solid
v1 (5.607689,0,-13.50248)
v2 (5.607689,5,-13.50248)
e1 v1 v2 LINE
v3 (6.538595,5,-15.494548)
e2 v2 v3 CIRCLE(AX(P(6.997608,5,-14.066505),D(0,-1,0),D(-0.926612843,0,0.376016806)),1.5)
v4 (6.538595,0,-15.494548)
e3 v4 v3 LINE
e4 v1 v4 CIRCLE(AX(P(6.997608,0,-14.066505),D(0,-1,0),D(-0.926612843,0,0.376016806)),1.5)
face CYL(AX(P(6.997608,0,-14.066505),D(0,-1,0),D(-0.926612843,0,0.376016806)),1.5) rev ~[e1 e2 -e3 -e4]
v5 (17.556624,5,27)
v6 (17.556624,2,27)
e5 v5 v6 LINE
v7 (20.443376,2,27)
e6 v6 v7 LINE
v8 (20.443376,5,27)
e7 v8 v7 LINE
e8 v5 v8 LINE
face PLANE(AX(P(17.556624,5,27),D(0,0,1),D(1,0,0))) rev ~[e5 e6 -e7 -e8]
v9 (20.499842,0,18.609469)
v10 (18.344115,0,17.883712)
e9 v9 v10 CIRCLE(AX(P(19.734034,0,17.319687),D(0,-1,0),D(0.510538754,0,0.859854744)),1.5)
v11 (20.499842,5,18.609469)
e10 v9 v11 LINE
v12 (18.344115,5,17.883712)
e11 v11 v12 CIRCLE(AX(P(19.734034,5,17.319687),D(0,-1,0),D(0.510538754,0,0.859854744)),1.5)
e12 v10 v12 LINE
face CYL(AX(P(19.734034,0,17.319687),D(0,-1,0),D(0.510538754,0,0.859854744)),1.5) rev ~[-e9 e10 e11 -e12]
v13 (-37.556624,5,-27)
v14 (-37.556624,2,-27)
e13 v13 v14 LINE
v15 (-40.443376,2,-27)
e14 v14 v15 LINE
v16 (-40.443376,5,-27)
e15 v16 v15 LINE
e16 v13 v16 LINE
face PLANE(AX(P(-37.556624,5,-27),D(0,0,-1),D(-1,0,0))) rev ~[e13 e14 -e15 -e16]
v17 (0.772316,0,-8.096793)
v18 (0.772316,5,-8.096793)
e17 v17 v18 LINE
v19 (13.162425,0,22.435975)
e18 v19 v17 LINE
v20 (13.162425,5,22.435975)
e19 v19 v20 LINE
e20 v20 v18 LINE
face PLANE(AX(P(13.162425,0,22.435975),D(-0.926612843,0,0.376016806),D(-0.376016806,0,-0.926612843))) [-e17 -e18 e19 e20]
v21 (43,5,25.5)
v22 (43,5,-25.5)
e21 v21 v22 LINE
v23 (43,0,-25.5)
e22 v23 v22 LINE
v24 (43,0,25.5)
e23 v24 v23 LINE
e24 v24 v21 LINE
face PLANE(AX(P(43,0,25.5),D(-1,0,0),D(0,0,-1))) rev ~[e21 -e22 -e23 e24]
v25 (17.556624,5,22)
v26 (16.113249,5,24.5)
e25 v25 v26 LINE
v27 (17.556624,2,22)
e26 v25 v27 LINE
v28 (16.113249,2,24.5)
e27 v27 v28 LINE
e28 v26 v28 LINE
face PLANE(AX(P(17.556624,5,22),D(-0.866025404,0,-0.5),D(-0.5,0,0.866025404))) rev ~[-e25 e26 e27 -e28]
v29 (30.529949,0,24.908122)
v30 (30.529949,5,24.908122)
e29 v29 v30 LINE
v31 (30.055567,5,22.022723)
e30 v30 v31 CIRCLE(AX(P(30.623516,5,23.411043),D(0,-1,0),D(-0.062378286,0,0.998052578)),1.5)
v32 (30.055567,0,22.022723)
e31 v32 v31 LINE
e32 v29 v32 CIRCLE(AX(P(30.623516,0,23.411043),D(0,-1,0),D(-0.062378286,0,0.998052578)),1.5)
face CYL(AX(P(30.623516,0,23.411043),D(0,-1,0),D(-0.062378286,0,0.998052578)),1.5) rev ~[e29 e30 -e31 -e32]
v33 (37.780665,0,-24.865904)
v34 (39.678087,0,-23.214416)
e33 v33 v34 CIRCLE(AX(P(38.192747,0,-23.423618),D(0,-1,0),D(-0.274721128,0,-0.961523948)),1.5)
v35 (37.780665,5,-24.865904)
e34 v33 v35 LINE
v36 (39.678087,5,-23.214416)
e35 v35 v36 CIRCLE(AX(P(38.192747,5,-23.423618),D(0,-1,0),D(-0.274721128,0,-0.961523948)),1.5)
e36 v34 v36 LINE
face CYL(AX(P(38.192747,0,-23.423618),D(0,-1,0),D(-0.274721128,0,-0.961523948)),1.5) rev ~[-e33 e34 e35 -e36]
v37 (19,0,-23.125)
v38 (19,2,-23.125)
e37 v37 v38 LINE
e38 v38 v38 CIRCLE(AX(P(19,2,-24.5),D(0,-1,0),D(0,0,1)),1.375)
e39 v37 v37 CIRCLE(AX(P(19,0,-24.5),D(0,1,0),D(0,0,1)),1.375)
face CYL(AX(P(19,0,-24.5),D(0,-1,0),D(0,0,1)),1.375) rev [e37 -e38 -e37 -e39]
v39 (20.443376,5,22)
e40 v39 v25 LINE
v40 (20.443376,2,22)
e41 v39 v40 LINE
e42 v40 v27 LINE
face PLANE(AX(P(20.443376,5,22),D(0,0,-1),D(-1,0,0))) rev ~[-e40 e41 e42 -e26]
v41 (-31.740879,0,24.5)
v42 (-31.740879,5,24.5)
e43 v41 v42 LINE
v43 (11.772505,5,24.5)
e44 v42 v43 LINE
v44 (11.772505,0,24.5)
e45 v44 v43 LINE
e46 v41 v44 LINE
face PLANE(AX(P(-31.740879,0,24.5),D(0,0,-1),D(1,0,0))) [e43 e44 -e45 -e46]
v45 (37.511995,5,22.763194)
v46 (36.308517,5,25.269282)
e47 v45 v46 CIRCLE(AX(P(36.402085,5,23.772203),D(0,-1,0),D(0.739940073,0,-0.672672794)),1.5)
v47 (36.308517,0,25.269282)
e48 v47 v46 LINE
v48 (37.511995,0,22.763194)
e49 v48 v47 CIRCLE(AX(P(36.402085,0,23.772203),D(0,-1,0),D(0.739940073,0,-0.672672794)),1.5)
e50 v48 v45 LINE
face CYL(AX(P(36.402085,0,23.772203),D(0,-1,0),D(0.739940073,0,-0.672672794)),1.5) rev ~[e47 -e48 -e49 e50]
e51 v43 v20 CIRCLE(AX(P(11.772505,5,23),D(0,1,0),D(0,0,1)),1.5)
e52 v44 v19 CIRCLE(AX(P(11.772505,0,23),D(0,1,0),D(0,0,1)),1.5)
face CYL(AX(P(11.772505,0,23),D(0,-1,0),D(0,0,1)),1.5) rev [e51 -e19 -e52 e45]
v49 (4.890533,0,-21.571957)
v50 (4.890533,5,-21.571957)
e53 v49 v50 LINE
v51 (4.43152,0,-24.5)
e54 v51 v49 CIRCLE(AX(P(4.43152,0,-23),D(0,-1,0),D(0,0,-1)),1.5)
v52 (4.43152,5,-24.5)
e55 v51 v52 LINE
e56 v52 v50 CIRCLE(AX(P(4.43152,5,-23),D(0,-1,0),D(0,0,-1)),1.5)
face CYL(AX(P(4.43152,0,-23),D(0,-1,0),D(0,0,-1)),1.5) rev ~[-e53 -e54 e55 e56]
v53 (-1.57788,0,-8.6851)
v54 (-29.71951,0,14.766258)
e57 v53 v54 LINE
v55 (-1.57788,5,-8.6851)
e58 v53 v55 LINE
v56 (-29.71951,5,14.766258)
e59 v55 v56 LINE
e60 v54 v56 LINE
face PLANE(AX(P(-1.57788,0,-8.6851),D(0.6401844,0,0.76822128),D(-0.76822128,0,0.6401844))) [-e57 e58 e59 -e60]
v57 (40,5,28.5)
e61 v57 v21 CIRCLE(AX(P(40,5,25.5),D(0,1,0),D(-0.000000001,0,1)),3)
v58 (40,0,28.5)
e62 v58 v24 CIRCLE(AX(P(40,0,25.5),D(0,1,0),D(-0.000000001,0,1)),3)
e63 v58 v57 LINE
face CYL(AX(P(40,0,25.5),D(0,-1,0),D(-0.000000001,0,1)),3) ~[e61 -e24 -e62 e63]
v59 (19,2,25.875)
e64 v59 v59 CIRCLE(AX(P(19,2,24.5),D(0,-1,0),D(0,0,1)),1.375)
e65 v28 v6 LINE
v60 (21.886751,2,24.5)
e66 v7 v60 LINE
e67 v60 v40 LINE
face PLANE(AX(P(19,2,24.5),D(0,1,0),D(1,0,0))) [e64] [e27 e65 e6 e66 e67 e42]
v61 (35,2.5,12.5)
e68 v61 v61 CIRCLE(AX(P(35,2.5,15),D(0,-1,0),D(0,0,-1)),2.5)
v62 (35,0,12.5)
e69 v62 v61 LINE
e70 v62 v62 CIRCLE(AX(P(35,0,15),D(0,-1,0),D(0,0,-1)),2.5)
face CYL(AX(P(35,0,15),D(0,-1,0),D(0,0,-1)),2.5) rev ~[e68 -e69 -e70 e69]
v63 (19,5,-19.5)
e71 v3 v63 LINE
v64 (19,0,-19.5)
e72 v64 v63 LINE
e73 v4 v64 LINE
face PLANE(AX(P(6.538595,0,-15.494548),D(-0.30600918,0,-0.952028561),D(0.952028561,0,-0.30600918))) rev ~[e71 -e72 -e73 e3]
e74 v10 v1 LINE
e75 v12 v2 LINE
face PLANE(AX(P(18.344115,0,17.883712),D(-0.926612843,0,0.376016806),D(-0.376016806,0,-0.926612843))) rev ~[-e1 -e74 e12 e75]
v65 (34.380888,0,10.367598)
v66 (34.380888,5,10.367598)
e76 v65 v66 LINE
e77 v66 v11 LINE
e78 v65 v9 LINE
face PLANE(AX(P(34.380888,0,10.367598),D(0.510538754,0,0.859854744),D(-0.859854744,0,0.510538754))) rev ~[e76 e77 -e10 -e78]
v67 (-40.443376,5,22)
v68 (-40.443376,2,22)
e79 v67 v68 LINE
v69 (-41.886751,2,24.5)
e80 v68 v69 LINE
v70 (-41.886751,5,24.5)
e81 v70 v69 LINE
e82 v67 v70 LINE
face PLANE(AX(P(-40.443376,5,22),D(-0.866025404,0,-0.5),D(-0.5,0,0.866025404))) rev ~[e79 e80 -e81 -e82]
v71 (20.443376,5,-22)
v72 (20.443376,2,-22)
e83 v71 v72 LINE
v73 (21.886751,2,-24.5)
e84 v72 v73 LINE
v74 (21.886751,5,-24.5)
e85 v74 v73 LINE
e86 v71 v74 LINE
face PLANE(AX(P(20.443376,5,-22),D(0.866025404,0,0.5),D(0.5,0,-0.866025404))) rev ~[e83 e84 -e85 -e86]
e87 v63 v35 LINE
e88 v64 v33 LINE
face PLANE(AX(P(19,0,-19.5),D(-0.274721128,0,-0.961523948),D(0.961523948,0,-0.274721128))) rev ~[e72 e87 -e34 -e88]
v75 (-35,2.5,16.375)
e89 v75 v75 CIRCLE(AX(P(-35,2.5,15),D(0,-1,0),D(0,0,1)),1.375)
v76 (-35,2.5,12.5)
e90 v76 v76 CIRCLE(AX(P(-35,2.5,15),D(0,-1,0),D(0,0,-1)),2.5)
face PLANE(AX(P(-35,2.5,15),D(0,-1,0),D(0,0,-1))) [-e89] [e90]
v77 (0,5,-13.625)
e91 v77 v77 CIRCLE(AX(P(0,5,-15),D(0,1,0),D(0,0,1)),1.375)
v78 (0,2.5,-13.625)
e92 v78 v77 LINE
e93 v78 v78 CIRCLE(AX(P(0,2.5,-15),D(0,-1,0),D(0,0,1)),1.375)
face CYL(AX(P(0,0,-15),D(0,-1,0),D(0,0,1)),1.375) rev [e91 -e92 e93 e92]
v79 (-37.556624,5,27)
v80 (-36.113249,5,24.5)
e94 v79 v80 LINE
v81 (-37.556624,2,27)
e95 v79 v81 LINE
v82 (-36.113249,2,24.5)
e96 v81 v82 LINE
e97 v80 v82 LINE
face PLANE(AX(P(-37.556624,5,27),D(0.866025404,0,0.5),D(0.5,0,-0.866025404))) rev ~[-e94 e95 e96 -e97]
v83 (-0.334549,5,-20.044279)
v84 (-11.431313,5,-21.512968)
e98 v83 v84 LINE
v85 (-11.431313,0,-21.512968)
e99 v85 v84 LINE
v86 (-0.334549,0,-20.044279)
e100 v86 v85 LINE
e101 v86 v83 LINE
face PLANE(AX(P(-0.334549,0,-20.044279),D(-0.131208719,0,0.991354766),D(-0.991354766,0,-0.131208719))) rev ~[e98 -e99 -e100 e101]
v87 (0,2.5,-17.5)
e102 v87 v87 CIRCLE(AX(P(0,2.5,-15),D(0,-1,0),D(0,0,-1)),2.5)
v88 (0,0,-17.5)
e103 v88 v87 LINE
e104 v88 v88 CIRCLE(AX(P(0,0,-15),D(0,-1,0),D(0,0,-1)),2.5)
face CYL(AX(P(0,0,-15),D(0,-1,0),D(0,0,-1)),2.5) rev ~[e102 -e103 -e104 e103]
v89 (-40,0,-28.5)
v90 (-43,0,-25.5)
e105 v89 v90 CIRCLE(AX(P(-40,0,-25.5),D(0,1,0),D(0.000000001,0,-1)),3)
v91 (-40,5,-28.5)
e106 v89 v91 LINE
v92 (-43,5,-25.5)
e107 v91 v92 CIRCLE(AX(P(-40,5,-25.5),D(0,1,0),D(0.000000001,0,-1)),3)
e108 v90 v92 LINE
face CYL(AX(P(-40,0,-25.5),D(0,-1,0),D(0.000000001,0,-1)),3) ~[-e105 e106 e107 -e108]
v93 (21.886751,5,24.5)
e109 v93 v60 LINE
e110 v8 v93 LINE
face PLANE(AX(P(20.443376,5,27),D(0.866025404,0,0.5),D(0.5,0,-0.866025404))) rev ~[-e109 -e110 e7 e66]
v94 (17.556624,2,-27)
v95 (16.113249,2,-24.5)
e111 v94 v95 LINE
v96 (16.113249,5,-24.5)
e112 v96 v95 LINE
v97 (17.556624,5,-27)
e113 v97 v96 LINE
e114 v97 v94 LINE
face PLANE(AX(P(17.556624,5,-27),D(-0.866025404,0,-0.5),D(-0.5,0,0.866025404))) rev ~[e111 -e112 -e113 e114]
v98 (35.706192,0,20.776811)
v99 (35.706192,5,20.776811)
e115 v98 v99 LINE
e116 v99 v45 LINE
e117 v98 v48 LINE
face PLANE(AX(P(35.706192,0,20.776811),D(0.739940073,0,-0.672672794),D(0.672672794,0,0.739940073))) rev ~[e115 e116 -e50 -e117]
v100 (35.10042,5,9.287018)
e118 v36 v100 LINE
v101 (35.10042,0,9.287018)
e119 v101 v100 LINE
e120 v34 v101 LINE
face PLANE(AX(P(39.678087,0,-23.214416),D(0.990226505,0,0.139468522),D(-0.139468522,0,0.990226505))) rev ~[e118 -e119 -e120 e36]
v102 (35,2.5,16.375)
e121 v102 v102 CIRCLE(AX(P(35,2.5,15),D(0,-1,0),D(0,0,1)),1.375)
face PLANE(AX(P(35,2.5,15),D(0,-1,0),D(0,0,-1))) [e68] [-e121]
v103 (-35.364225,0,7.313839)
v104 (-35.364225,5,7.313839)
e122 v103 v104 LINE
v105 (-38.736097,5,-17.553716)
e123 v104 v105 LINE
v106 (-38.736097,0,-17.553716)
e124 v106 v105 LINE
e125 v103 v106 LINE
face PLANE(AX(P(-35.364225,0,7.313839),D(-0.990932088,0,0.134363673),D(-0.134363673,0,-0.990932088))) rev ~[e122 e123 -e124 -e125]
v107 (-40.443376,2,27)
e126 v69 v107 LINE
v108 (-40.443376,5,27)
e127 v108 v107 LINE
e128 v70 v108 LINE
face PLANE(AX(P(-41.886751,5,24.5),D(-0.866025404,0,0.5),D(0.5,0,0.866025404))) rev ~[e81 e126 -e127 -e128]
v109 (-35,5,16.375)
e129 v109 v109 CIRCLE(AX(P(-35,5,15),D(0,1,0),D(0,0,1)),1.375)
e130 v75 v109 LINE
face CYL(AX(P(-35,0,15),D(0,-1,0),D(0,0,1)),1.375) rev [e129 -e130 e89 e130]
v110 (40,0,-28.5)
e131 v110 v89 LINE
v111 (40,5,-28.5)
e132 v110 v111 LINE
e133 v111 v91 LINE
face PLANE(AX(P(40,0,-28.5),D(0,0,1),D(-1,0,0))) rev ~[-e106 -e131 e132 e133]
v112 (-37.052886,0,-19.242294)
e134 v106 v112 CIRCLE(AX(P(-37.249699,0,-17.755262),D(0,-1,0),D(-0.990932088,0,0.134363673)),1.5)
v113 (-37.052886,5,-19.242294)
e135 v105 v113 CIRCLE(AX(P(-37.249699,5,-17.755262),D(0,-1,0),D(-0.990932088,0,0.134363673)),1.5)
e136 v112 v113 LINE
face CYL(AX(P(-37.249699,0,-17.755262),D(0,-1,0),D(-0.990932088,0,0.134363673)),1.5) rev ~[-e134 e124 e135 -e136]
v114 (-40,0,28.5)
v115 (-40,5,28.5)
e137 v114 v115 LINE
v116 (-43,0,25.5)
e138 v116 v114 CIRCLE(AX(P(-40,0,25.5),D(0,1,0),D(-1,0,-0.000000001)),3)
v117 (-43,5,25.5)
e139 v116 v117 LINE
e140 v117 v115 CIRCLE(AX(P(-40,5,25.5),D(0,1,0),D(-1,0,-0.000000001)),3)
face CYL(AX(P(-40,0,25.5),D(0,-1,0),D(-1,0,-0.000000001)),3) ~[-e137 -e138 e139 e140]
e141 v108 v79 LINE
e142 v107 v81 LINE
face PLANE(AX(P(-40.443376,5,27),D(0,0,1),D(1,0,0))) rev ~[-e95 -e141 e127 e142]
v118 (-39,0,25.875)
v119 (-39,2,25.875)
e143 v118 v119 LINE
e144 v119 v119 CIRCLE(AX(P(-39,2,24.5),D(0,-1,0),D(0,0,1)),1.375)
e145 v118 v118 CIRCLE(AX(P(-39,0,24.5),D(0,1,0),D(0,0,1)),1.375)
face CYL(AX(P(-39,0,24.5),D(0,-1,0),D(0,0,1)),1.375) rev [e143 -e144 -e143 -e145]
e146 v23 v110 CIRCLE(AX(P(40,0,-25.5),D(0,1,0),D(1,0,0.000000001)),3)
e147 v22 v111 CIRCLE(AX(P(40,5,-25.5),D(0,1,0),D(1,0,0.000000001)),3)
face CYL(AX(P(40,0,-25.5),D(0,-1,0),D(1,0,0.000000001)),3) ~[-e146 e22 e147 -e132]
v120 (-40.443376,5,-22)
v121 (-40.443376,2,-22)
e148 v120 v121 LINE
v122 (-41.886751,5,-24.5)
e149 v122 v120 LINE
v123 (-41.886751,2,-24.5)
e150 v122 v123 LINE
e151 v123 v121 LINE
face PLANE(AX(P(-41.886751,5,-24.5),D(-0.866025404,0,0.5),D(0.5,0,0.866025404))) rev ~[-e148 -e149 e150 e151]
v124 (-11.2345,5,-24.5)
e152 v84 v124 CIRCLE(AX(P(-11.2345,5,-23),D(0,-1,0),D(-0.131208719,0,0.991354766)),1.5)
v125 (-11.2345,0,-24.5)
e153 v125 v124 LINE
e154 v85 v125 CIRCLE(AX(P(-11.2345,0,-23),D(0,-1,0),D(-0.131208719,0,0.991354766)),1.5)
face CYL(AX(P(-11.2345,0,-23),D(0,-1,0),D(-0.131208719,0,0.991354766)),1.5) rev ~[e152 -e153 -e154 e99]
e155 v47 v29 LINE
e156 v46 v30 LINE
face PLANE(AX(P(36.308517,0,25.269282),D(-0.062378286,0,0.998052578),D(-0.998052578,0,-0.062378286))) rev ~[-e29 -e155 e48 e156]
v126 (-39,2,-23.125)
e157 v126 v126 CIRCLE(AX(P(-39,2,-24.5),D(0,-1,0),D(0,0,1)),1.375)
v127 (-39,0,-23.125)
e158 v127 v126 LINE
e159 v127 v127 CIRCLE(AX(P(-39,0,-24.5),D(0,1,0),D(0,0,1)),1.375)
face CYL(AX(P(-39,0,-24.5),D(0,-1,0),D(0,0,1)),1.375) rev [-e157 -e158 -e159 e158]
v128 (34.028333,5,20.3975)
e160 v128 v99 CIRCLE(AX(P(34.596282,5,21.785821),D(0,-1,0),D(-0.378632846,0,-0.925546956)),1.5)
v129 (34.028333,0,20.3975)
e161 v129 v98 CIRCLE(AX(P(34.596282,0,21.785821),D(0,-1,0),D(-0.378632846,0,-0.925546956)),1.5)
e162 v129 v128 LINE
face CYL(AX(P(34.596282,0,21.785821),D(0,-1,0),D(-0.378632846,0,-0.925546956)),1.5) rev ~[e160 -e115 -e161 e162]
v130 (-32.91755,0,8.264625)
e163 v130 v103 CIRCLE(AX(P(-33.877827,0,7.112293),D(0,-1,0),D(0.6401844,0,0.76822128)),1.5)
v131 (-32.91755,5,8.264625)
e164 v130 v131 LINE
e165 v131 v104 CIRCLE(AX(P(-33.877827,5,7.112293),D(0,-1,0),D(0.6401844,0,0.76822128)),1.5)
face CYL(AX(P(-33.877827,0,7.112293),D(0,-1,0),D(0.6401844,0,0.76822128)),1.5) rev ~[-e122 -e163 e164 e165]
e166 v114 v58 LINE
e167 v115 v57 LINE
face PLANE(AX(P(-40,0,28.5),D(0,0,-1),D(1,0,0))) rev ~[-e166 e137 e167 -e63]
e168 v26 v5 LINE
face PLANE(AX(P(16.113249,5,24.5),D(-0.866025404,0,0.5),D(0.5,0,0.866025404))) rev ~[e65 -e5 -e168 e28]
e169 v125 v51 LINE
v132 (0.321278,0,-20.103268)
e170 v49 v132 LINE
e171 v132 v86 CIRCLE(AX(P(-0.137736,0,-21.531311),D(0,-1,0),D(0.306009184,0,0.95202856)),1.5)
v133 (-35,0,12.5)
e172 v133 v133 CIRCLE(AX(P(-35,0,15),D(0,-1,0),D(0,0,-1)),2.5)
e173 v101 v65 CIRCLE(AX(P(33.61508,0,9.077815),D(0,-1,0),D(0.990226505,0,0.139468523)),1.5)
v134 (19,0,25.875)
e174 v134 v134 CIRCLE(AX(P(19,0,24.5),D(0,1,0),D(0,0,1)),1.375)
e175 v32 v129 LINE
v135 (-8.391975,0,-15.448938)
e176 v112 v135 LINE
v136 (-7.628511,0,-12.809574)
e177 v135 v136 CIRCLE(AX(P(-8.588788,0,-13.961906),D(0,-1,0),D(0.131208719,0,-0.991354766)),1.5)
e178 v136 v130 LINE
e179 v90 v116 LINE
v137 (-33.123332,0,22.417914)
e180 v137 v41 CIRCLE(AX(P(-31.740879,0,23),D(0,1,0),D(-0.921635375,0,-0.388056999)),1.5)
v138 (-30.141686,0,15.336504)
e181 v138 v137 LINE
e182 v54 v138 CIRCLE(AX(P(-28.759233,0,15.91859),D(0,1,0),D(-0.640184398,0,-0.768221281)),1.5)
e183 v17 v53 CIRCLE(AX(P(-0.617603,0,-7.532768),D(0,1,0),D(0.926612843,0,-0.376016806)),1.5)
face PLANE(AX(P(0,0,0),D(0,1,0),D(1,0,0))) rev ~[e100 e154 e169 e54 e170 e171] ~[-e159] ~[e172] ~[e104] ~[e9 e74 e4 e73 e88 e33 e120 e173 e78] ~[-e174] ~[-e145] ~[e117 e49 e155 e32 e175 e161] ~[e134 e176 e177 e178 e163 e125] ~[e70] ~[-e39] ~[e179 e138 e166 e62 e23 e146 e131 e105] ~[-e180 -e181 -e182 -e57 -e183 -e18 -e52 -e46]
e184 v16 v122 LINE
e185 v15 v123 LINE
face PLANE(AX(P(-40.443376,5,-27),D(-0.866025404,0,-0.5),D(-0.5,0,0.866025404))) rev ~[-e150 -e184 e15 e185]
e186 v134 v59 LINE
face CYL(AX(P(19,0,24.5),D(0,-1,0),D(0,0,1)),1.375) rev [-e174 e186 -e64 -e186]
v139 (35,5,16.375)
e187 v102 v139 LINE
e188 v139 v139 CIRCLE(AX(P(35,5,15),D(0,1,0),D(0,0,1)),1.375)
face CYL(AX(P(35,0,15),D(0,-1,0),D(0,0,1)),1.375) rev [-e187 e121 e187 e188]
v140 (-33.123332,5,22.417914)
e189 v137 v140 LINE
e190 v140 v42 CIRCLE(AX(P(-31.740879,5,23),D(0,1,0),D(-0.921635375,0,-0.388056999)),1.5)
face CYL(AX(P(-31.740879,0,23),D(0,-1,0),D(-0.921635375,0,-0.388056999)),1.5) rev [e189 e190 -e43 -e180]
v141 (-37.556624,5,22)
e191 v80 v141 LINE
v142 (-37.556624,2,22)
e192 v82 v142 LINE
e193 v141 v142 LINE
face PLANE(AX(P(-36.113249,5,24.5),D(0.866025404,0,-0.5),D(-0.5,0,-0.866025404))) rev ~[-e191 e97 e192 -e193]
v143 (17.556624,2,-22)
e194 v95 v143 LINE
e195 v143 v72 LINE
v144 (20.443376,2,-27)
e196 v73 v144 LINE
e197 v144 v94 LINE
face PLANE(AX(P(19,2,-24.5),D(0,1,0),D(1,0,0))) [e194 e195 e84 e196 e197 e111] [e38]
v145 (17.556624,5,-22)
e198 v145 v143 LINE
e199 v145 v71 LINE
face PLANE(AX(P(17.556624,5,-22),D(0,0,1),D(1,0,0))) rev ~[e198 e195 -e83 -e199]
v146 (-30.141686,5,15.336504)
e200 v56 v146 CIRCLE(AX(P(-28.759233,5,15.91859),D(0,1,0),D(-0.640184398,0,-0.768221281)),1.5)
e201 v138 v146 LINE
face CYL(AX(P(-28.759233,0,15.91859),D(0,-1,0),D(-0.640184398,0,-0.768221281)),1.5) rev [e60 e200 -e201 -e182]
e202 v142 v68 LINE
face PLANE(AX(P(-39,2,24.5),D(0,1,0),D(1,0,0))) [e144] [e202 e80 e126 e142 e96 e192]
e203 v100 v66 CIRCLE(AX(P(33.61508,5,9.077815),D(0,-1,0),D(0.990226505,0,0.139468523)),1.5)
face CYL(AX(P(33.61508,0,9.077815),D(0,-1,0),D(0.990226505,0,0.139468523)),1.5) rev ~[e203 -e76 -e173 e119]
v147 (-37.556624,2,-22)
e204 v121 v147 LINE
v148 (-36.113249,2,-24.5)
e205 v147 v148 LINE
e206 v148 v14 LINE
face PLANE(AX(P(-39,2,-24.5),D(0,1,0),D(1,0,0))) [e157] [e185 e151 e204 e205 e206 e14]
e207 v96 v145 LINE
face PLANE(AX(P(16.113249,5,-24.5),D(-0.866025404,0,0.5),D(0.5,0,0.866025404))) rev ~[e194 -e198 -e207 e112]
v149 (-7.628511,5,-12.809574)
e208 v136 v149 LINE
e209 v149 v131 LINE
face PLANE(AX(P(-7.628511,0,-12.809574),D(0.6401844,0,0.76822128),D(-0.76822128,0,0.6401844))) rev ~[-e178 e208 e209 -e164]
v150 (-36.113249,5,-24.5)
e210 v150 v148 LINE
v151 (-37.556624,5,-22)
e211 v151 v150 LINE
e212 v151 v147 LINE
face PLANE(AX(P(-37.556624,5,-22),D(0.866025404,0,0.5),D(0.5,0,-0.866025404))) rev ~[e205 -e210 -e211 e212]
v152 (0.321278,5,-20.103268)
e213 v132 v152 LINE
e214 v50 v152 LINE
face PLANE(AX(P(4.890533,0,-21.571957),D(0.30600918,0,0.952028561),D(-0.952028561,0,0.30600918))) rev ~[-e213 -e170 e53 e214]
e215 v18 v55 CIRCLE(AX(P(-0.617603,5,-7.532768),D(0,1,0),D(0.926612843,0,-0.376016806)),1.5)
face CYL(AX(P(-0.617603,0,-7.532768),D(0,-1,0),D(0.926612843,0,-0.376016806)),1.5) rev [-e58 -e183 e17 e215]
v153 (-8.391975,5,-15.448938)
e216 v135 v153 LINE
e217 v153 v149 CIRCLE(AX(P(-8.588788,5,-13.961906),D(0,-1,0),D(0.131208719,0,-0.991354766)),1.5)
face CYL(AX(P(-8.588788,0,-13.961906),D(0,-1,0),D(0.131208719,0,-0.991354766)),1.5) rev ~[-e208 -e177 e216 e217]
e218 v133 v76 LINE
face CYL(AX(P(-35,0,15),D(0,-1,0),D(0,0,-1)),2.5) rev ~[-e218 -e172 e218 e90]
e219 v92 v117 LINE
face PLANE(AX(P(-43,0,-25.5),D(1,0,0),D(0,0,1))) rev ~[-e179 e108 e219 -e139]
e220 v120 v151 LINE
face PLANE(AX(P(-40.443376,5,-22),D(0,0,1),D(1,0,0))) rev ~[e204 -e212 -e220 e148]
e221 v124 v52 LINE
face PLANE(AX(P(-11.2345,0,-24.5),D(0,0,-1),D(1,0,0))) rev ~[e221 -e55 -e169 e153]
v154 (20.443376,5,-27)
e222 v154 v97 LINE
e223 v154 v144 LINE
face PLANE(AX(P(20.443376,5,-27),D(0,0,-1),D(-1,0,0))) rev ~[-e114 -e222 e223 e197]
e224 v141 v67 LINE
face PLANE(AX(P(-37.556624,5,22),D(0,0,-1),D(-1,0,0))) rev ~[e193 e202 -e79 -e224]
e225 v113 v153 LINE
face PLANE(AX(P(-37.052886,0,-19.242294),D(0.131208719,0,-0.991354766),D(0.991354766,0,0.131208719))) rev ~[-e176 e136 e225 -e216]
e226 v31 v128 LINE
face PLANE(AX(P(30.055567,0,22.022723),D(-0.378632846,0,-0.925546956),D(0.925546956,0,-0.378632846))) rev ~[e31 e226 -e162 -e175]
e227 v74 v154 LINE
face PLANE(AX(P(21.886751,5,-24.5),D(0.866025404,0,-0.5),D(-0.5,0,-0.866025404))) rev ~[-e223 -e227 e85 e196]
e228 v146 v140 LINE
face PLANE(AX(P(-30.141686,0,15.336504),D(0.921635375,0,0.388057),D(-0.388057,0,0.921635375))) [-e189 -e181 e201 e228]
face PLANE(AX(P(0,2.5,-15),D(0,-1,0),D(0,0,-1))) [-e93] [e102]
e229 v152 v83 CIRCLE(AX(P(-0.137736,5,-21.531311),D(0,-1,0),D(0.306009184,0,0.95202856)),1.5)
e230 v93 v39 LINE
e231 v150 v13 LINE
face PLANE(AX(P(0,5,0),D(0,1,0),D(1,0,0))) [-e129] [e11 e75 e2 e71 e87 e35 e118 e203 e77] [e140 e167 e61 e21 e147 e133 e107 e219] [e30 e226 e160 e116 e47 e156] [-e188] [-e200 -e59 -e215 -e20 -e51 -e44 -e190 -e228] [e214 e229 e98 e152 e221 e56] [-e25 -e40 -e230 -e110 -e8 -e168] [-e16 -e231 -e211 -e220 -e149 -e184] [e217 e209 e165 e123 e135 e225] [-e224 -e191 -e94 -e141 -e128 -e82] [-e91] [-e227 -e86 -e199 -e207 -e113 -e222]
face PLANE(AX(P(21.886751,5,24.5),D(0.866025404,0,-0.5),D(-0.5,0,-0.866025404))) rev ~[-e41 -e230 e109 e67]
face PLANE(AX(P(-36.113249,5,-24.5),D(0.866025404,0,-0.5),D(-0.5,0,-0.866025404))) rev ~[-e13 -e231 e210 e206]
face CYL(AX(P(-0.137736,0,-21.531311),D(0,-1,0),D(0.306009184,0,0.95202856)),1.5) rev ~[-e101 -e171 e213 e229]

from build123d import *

# Parameters (mm, degrees)
SKETCH1_R           = 1.375
BOSS_EXTRUDE1_DEPTH = 5
CUT_EXTRUDE1_DEPTH  = 3
SKETCH3_R           = 2.5
CUT_EXTRUDE2_DEPTH  = 2.5


with BuildPart() as part:
    # Sketch1 → Boss-Extrude1 (new body)
    with BuildSketch(Plane(origin=(0, 0, 0), x_dir=(1, 0, 0), z_dir=(0, 1, 0))):
        with BuildLine():
            Line((-40, -28.5), (40, -28.5))
            ThreePointArc((40, -28.5), (42.121320344, -27.621320344), (43, -25.5))
            Line((43, -25.5), (43, 25.5))
            ThreePointArc((43, 25.5), (42.121320344, 27.621320344), (40, 28.5))
            Line((40, 28.5), (-40, 28.5))
            ThreePointArc((-40, 28.5), (-42.121320344, 27.621320344), (-43, 25.5))
            Line((-43, 25.5), (-43, -25.5))
            ThreePointArc((-43, -25.5), (-42.121320344, -27.621320344), (-40, -28.5))
        make_face()
        with Locations(Location((0, 15, 0), (0, 0, 270))):
            Circle(SKETCH1_R, mode=Mode.SUBTRACT)
        with Locations(Location((-35, -15, 0), (0, 0, 270))):
            Circle(SKETCH1_R, mode=Mode.SUBTRACT)
        with Locations(Location((35, -15, 0), (0, 0, 270))):
            Circle(SKETCH1_R, mode=Mode.SUBTRACT)
        with Locations(Location((-39, 24.5, 0), (0, 0, 270))):
            Circle(SKETCH1_R, mode=Mode.SUBTRACT)
        with Locations(Location((19, 24.5, 0), (0, 0, 270))):
            Circle(SKETCH1_R, mode=Mode.SUBTRACT)
        with Locations(Location((19, -24.5, 0), (0, 0, 270))):
            Circle(SKETCH1_R, mode=Mode.SUBTRACT)
        with Locations(Location((-39, -24.5, 0), (0, 0, 270))):
            Circle(SKETCH1_R, mode=Mode.SUBTRACT)
        with BuildLine():
            Line((-37.052885882, 19.24229372), (-8.391974967, 15.448937863))
            ThreePointArc((-8.391974967, 15.448937863), (-7.147859594, 14.378709263), (-7.628511446, 12.809573795))
            Line((-7.628511446, 12.809573795), (-32.917550489, -8.264625407))
            ThreePointArc((-32.917550489, -8.264625407), (-34.421149889, -8.510435231), (-35.364225221, -7.313838997))
            Line((-35.364225221, -7.313838997), (-38.736097093, 17.553716061))
            ThreePointArc((-38.736097093, 17.553716061), (-38.312045905, 18.814232283), (-37.052885882, 19.24229372))
        make_face(mode=Mode.SUBTRACT)
        with BuildLine():
            Line((-1.577880073, 8.685099939), (-29.719509612, -14.76625801))
            ThreePointArc((-29.719509612, -14.76625801), (-29.964799607, -15.026060273), (-30.141686076, -15.33650443))
            Line((-30.141686076, -15.33650443), (-33.123332421, -22.4179145))
            ThreePointArc((-33.123332421, -22.4179145), (-32.990504952, -23.829720359), (-31.740879358, -24.5))
            Line((-31.740879358, -24.5), (11.772505288, -24.5))
            ThreePointArc((11.772505288, -24.5), (13.016699367, -23.83784312), (13.162424553, -22.435974791))
            Line((13.162424553, -22.435974791), (0.772315791, 8.096793229))
            ThreePointArc((0.772315791, 8.096793229), (-0.253358499, 8.987871314), (-1.577880073, 8.685099939))
        make_face(mode=Mode.SUBTRACT)
        with BuildLine():
            Line((-11.234499574, 24.5), (4.43151961, 24.5))
            ThreePointArc((4.43151961, 24.5), (5.913421136, 23.232309855), (4.890533381, 21.571957158))
            Line((4.890533381, 21.571957158), (0.321277785, 20.10326786))
            ThreePointArc((0.321277785, 20.10326786), (-0.003358772, 20.037341905), (-0.334549064, 20.044278553))
            Line((-0.334549064, 20.044278553), (-11.431312652, 21.512967851))
            ThreePointArc((-11.431312652, 21.512967851), (-12.7312541, 23.098619918), (-11.234499574, 24.5))
        make_face(mode=Mode.SUBTRACT)
        with BuildLine():
            Line((6.538594674, 15.494548288), (19, 19.5))
            Line((19, 19.5), (37.780665263, 24.865904361))
            ThreePointArc((37.780665263, 24.865904361), (39.177543611, 24.555066868), (39.678086712, 23.214415657))
            Line((39.678086712, 23.214415657), (35.10041997, -9.287018213))
            ThreePointArc((35.10041997, -9.287018213), (34.8636112, -9.909181999), (34.380888344, -10.367597546))
            Line((34.380888344, -10.367597546), (20.4998423, -18.609468634))
            ThreePointArc((20.4998423, -18.609468634), (19.255432614, -18.741284405), (18.344114904, -17.883711727))
            Line((18.344114904, -17.883711727), (5.607689179, 13.502480237))
            ThreePointArc((5.607689179, 13.502480237), (5.638666899, 14.70154708), (6.538594674, 15.494548288))
        make_face(mode=Mode.SUBTRACT)
        with BuildLine():
            Line((30.055567192, -22.022722512), (34.028332843, -20.397500201))
            ThreePointArc((34.028332843, -20.397500201), (34.927038281, -20.322741568), (35.706192222, -20.776811444))
            Line((35.706192222, -20.776811444), (37.51199479, -22.763194269))
            ThreePointArc((37.51199479, -22.763194269), (37.754252366, -24.421543548), (36.308517251, -25.269282328))
            Line((36.308517251, -25.269282328), (30.529949031, -24.908121814))
            ThreePointArc((30.529949031, -24.908121814), (29.14338695, -23.654387623), (30.055567192, -22.022722512))
        make_face(mode=Mode.SUBTRACT)
    extrude(amount=BOSS_EXTRUDE1_DEPTH)

    # Sketch2 → Cut-Extrude1 (cut)
    with BuildSketch(Plane(origin=(0, 5, 0), x_dir=(1, 0, 0), z_dir=(0, 1, 0))):
        Polygon((-36.113248654, 24.5), (-37.556624327, 27), (-40.443375673, 27), (-41.886751346, 24.5), (-40.443375673, 22), (-37.556624327, 22), align=None)
        Polygon((20.443375673, 27), (17.556624327, 27), (16.113248654, 24.5), (17.556624327, 22), (20.443375673, 22), (21.886751346, 24.5), align=None)
        Polygon((20.443375673, -22), (17.556624327, -22), (16.113248654, -24.5), (17.556624327, -27), (20.443375673, -27), (21.886751346, -24.5), align=None)
        Polygon((-36.113248654, -24.5), (-37.556624327, -22), (-40.443375673, -22), (-41.886751346, -24.5), (-40.443375673, -27), (-37.556624327, -27), align=None)
    extrude(amount=-CUT_EXTRUDE1_DEPTH, mode=Mode.SUBTRACT)

    # Sketch3 → Cut-Extrude2 (cut)
    with BuildSketch(Plane.XZ):
        with Locations(Location((-35, 15, 0), (0, 0, 270))):
            Circle(SKETCH3_R)
        with Locations(Location((35, 15, 0), (0, 0, 270))):
            Circle(SKETCH3_R)
        with Locations(Location((0, -15, 0), (0, 0, 270))):
            Circle(SKETCH3_R)
    extrude(amount=-CUT_EXTRUDE2_DEPTH, mode=Mode.SUBTRACT)


solid = part.part
